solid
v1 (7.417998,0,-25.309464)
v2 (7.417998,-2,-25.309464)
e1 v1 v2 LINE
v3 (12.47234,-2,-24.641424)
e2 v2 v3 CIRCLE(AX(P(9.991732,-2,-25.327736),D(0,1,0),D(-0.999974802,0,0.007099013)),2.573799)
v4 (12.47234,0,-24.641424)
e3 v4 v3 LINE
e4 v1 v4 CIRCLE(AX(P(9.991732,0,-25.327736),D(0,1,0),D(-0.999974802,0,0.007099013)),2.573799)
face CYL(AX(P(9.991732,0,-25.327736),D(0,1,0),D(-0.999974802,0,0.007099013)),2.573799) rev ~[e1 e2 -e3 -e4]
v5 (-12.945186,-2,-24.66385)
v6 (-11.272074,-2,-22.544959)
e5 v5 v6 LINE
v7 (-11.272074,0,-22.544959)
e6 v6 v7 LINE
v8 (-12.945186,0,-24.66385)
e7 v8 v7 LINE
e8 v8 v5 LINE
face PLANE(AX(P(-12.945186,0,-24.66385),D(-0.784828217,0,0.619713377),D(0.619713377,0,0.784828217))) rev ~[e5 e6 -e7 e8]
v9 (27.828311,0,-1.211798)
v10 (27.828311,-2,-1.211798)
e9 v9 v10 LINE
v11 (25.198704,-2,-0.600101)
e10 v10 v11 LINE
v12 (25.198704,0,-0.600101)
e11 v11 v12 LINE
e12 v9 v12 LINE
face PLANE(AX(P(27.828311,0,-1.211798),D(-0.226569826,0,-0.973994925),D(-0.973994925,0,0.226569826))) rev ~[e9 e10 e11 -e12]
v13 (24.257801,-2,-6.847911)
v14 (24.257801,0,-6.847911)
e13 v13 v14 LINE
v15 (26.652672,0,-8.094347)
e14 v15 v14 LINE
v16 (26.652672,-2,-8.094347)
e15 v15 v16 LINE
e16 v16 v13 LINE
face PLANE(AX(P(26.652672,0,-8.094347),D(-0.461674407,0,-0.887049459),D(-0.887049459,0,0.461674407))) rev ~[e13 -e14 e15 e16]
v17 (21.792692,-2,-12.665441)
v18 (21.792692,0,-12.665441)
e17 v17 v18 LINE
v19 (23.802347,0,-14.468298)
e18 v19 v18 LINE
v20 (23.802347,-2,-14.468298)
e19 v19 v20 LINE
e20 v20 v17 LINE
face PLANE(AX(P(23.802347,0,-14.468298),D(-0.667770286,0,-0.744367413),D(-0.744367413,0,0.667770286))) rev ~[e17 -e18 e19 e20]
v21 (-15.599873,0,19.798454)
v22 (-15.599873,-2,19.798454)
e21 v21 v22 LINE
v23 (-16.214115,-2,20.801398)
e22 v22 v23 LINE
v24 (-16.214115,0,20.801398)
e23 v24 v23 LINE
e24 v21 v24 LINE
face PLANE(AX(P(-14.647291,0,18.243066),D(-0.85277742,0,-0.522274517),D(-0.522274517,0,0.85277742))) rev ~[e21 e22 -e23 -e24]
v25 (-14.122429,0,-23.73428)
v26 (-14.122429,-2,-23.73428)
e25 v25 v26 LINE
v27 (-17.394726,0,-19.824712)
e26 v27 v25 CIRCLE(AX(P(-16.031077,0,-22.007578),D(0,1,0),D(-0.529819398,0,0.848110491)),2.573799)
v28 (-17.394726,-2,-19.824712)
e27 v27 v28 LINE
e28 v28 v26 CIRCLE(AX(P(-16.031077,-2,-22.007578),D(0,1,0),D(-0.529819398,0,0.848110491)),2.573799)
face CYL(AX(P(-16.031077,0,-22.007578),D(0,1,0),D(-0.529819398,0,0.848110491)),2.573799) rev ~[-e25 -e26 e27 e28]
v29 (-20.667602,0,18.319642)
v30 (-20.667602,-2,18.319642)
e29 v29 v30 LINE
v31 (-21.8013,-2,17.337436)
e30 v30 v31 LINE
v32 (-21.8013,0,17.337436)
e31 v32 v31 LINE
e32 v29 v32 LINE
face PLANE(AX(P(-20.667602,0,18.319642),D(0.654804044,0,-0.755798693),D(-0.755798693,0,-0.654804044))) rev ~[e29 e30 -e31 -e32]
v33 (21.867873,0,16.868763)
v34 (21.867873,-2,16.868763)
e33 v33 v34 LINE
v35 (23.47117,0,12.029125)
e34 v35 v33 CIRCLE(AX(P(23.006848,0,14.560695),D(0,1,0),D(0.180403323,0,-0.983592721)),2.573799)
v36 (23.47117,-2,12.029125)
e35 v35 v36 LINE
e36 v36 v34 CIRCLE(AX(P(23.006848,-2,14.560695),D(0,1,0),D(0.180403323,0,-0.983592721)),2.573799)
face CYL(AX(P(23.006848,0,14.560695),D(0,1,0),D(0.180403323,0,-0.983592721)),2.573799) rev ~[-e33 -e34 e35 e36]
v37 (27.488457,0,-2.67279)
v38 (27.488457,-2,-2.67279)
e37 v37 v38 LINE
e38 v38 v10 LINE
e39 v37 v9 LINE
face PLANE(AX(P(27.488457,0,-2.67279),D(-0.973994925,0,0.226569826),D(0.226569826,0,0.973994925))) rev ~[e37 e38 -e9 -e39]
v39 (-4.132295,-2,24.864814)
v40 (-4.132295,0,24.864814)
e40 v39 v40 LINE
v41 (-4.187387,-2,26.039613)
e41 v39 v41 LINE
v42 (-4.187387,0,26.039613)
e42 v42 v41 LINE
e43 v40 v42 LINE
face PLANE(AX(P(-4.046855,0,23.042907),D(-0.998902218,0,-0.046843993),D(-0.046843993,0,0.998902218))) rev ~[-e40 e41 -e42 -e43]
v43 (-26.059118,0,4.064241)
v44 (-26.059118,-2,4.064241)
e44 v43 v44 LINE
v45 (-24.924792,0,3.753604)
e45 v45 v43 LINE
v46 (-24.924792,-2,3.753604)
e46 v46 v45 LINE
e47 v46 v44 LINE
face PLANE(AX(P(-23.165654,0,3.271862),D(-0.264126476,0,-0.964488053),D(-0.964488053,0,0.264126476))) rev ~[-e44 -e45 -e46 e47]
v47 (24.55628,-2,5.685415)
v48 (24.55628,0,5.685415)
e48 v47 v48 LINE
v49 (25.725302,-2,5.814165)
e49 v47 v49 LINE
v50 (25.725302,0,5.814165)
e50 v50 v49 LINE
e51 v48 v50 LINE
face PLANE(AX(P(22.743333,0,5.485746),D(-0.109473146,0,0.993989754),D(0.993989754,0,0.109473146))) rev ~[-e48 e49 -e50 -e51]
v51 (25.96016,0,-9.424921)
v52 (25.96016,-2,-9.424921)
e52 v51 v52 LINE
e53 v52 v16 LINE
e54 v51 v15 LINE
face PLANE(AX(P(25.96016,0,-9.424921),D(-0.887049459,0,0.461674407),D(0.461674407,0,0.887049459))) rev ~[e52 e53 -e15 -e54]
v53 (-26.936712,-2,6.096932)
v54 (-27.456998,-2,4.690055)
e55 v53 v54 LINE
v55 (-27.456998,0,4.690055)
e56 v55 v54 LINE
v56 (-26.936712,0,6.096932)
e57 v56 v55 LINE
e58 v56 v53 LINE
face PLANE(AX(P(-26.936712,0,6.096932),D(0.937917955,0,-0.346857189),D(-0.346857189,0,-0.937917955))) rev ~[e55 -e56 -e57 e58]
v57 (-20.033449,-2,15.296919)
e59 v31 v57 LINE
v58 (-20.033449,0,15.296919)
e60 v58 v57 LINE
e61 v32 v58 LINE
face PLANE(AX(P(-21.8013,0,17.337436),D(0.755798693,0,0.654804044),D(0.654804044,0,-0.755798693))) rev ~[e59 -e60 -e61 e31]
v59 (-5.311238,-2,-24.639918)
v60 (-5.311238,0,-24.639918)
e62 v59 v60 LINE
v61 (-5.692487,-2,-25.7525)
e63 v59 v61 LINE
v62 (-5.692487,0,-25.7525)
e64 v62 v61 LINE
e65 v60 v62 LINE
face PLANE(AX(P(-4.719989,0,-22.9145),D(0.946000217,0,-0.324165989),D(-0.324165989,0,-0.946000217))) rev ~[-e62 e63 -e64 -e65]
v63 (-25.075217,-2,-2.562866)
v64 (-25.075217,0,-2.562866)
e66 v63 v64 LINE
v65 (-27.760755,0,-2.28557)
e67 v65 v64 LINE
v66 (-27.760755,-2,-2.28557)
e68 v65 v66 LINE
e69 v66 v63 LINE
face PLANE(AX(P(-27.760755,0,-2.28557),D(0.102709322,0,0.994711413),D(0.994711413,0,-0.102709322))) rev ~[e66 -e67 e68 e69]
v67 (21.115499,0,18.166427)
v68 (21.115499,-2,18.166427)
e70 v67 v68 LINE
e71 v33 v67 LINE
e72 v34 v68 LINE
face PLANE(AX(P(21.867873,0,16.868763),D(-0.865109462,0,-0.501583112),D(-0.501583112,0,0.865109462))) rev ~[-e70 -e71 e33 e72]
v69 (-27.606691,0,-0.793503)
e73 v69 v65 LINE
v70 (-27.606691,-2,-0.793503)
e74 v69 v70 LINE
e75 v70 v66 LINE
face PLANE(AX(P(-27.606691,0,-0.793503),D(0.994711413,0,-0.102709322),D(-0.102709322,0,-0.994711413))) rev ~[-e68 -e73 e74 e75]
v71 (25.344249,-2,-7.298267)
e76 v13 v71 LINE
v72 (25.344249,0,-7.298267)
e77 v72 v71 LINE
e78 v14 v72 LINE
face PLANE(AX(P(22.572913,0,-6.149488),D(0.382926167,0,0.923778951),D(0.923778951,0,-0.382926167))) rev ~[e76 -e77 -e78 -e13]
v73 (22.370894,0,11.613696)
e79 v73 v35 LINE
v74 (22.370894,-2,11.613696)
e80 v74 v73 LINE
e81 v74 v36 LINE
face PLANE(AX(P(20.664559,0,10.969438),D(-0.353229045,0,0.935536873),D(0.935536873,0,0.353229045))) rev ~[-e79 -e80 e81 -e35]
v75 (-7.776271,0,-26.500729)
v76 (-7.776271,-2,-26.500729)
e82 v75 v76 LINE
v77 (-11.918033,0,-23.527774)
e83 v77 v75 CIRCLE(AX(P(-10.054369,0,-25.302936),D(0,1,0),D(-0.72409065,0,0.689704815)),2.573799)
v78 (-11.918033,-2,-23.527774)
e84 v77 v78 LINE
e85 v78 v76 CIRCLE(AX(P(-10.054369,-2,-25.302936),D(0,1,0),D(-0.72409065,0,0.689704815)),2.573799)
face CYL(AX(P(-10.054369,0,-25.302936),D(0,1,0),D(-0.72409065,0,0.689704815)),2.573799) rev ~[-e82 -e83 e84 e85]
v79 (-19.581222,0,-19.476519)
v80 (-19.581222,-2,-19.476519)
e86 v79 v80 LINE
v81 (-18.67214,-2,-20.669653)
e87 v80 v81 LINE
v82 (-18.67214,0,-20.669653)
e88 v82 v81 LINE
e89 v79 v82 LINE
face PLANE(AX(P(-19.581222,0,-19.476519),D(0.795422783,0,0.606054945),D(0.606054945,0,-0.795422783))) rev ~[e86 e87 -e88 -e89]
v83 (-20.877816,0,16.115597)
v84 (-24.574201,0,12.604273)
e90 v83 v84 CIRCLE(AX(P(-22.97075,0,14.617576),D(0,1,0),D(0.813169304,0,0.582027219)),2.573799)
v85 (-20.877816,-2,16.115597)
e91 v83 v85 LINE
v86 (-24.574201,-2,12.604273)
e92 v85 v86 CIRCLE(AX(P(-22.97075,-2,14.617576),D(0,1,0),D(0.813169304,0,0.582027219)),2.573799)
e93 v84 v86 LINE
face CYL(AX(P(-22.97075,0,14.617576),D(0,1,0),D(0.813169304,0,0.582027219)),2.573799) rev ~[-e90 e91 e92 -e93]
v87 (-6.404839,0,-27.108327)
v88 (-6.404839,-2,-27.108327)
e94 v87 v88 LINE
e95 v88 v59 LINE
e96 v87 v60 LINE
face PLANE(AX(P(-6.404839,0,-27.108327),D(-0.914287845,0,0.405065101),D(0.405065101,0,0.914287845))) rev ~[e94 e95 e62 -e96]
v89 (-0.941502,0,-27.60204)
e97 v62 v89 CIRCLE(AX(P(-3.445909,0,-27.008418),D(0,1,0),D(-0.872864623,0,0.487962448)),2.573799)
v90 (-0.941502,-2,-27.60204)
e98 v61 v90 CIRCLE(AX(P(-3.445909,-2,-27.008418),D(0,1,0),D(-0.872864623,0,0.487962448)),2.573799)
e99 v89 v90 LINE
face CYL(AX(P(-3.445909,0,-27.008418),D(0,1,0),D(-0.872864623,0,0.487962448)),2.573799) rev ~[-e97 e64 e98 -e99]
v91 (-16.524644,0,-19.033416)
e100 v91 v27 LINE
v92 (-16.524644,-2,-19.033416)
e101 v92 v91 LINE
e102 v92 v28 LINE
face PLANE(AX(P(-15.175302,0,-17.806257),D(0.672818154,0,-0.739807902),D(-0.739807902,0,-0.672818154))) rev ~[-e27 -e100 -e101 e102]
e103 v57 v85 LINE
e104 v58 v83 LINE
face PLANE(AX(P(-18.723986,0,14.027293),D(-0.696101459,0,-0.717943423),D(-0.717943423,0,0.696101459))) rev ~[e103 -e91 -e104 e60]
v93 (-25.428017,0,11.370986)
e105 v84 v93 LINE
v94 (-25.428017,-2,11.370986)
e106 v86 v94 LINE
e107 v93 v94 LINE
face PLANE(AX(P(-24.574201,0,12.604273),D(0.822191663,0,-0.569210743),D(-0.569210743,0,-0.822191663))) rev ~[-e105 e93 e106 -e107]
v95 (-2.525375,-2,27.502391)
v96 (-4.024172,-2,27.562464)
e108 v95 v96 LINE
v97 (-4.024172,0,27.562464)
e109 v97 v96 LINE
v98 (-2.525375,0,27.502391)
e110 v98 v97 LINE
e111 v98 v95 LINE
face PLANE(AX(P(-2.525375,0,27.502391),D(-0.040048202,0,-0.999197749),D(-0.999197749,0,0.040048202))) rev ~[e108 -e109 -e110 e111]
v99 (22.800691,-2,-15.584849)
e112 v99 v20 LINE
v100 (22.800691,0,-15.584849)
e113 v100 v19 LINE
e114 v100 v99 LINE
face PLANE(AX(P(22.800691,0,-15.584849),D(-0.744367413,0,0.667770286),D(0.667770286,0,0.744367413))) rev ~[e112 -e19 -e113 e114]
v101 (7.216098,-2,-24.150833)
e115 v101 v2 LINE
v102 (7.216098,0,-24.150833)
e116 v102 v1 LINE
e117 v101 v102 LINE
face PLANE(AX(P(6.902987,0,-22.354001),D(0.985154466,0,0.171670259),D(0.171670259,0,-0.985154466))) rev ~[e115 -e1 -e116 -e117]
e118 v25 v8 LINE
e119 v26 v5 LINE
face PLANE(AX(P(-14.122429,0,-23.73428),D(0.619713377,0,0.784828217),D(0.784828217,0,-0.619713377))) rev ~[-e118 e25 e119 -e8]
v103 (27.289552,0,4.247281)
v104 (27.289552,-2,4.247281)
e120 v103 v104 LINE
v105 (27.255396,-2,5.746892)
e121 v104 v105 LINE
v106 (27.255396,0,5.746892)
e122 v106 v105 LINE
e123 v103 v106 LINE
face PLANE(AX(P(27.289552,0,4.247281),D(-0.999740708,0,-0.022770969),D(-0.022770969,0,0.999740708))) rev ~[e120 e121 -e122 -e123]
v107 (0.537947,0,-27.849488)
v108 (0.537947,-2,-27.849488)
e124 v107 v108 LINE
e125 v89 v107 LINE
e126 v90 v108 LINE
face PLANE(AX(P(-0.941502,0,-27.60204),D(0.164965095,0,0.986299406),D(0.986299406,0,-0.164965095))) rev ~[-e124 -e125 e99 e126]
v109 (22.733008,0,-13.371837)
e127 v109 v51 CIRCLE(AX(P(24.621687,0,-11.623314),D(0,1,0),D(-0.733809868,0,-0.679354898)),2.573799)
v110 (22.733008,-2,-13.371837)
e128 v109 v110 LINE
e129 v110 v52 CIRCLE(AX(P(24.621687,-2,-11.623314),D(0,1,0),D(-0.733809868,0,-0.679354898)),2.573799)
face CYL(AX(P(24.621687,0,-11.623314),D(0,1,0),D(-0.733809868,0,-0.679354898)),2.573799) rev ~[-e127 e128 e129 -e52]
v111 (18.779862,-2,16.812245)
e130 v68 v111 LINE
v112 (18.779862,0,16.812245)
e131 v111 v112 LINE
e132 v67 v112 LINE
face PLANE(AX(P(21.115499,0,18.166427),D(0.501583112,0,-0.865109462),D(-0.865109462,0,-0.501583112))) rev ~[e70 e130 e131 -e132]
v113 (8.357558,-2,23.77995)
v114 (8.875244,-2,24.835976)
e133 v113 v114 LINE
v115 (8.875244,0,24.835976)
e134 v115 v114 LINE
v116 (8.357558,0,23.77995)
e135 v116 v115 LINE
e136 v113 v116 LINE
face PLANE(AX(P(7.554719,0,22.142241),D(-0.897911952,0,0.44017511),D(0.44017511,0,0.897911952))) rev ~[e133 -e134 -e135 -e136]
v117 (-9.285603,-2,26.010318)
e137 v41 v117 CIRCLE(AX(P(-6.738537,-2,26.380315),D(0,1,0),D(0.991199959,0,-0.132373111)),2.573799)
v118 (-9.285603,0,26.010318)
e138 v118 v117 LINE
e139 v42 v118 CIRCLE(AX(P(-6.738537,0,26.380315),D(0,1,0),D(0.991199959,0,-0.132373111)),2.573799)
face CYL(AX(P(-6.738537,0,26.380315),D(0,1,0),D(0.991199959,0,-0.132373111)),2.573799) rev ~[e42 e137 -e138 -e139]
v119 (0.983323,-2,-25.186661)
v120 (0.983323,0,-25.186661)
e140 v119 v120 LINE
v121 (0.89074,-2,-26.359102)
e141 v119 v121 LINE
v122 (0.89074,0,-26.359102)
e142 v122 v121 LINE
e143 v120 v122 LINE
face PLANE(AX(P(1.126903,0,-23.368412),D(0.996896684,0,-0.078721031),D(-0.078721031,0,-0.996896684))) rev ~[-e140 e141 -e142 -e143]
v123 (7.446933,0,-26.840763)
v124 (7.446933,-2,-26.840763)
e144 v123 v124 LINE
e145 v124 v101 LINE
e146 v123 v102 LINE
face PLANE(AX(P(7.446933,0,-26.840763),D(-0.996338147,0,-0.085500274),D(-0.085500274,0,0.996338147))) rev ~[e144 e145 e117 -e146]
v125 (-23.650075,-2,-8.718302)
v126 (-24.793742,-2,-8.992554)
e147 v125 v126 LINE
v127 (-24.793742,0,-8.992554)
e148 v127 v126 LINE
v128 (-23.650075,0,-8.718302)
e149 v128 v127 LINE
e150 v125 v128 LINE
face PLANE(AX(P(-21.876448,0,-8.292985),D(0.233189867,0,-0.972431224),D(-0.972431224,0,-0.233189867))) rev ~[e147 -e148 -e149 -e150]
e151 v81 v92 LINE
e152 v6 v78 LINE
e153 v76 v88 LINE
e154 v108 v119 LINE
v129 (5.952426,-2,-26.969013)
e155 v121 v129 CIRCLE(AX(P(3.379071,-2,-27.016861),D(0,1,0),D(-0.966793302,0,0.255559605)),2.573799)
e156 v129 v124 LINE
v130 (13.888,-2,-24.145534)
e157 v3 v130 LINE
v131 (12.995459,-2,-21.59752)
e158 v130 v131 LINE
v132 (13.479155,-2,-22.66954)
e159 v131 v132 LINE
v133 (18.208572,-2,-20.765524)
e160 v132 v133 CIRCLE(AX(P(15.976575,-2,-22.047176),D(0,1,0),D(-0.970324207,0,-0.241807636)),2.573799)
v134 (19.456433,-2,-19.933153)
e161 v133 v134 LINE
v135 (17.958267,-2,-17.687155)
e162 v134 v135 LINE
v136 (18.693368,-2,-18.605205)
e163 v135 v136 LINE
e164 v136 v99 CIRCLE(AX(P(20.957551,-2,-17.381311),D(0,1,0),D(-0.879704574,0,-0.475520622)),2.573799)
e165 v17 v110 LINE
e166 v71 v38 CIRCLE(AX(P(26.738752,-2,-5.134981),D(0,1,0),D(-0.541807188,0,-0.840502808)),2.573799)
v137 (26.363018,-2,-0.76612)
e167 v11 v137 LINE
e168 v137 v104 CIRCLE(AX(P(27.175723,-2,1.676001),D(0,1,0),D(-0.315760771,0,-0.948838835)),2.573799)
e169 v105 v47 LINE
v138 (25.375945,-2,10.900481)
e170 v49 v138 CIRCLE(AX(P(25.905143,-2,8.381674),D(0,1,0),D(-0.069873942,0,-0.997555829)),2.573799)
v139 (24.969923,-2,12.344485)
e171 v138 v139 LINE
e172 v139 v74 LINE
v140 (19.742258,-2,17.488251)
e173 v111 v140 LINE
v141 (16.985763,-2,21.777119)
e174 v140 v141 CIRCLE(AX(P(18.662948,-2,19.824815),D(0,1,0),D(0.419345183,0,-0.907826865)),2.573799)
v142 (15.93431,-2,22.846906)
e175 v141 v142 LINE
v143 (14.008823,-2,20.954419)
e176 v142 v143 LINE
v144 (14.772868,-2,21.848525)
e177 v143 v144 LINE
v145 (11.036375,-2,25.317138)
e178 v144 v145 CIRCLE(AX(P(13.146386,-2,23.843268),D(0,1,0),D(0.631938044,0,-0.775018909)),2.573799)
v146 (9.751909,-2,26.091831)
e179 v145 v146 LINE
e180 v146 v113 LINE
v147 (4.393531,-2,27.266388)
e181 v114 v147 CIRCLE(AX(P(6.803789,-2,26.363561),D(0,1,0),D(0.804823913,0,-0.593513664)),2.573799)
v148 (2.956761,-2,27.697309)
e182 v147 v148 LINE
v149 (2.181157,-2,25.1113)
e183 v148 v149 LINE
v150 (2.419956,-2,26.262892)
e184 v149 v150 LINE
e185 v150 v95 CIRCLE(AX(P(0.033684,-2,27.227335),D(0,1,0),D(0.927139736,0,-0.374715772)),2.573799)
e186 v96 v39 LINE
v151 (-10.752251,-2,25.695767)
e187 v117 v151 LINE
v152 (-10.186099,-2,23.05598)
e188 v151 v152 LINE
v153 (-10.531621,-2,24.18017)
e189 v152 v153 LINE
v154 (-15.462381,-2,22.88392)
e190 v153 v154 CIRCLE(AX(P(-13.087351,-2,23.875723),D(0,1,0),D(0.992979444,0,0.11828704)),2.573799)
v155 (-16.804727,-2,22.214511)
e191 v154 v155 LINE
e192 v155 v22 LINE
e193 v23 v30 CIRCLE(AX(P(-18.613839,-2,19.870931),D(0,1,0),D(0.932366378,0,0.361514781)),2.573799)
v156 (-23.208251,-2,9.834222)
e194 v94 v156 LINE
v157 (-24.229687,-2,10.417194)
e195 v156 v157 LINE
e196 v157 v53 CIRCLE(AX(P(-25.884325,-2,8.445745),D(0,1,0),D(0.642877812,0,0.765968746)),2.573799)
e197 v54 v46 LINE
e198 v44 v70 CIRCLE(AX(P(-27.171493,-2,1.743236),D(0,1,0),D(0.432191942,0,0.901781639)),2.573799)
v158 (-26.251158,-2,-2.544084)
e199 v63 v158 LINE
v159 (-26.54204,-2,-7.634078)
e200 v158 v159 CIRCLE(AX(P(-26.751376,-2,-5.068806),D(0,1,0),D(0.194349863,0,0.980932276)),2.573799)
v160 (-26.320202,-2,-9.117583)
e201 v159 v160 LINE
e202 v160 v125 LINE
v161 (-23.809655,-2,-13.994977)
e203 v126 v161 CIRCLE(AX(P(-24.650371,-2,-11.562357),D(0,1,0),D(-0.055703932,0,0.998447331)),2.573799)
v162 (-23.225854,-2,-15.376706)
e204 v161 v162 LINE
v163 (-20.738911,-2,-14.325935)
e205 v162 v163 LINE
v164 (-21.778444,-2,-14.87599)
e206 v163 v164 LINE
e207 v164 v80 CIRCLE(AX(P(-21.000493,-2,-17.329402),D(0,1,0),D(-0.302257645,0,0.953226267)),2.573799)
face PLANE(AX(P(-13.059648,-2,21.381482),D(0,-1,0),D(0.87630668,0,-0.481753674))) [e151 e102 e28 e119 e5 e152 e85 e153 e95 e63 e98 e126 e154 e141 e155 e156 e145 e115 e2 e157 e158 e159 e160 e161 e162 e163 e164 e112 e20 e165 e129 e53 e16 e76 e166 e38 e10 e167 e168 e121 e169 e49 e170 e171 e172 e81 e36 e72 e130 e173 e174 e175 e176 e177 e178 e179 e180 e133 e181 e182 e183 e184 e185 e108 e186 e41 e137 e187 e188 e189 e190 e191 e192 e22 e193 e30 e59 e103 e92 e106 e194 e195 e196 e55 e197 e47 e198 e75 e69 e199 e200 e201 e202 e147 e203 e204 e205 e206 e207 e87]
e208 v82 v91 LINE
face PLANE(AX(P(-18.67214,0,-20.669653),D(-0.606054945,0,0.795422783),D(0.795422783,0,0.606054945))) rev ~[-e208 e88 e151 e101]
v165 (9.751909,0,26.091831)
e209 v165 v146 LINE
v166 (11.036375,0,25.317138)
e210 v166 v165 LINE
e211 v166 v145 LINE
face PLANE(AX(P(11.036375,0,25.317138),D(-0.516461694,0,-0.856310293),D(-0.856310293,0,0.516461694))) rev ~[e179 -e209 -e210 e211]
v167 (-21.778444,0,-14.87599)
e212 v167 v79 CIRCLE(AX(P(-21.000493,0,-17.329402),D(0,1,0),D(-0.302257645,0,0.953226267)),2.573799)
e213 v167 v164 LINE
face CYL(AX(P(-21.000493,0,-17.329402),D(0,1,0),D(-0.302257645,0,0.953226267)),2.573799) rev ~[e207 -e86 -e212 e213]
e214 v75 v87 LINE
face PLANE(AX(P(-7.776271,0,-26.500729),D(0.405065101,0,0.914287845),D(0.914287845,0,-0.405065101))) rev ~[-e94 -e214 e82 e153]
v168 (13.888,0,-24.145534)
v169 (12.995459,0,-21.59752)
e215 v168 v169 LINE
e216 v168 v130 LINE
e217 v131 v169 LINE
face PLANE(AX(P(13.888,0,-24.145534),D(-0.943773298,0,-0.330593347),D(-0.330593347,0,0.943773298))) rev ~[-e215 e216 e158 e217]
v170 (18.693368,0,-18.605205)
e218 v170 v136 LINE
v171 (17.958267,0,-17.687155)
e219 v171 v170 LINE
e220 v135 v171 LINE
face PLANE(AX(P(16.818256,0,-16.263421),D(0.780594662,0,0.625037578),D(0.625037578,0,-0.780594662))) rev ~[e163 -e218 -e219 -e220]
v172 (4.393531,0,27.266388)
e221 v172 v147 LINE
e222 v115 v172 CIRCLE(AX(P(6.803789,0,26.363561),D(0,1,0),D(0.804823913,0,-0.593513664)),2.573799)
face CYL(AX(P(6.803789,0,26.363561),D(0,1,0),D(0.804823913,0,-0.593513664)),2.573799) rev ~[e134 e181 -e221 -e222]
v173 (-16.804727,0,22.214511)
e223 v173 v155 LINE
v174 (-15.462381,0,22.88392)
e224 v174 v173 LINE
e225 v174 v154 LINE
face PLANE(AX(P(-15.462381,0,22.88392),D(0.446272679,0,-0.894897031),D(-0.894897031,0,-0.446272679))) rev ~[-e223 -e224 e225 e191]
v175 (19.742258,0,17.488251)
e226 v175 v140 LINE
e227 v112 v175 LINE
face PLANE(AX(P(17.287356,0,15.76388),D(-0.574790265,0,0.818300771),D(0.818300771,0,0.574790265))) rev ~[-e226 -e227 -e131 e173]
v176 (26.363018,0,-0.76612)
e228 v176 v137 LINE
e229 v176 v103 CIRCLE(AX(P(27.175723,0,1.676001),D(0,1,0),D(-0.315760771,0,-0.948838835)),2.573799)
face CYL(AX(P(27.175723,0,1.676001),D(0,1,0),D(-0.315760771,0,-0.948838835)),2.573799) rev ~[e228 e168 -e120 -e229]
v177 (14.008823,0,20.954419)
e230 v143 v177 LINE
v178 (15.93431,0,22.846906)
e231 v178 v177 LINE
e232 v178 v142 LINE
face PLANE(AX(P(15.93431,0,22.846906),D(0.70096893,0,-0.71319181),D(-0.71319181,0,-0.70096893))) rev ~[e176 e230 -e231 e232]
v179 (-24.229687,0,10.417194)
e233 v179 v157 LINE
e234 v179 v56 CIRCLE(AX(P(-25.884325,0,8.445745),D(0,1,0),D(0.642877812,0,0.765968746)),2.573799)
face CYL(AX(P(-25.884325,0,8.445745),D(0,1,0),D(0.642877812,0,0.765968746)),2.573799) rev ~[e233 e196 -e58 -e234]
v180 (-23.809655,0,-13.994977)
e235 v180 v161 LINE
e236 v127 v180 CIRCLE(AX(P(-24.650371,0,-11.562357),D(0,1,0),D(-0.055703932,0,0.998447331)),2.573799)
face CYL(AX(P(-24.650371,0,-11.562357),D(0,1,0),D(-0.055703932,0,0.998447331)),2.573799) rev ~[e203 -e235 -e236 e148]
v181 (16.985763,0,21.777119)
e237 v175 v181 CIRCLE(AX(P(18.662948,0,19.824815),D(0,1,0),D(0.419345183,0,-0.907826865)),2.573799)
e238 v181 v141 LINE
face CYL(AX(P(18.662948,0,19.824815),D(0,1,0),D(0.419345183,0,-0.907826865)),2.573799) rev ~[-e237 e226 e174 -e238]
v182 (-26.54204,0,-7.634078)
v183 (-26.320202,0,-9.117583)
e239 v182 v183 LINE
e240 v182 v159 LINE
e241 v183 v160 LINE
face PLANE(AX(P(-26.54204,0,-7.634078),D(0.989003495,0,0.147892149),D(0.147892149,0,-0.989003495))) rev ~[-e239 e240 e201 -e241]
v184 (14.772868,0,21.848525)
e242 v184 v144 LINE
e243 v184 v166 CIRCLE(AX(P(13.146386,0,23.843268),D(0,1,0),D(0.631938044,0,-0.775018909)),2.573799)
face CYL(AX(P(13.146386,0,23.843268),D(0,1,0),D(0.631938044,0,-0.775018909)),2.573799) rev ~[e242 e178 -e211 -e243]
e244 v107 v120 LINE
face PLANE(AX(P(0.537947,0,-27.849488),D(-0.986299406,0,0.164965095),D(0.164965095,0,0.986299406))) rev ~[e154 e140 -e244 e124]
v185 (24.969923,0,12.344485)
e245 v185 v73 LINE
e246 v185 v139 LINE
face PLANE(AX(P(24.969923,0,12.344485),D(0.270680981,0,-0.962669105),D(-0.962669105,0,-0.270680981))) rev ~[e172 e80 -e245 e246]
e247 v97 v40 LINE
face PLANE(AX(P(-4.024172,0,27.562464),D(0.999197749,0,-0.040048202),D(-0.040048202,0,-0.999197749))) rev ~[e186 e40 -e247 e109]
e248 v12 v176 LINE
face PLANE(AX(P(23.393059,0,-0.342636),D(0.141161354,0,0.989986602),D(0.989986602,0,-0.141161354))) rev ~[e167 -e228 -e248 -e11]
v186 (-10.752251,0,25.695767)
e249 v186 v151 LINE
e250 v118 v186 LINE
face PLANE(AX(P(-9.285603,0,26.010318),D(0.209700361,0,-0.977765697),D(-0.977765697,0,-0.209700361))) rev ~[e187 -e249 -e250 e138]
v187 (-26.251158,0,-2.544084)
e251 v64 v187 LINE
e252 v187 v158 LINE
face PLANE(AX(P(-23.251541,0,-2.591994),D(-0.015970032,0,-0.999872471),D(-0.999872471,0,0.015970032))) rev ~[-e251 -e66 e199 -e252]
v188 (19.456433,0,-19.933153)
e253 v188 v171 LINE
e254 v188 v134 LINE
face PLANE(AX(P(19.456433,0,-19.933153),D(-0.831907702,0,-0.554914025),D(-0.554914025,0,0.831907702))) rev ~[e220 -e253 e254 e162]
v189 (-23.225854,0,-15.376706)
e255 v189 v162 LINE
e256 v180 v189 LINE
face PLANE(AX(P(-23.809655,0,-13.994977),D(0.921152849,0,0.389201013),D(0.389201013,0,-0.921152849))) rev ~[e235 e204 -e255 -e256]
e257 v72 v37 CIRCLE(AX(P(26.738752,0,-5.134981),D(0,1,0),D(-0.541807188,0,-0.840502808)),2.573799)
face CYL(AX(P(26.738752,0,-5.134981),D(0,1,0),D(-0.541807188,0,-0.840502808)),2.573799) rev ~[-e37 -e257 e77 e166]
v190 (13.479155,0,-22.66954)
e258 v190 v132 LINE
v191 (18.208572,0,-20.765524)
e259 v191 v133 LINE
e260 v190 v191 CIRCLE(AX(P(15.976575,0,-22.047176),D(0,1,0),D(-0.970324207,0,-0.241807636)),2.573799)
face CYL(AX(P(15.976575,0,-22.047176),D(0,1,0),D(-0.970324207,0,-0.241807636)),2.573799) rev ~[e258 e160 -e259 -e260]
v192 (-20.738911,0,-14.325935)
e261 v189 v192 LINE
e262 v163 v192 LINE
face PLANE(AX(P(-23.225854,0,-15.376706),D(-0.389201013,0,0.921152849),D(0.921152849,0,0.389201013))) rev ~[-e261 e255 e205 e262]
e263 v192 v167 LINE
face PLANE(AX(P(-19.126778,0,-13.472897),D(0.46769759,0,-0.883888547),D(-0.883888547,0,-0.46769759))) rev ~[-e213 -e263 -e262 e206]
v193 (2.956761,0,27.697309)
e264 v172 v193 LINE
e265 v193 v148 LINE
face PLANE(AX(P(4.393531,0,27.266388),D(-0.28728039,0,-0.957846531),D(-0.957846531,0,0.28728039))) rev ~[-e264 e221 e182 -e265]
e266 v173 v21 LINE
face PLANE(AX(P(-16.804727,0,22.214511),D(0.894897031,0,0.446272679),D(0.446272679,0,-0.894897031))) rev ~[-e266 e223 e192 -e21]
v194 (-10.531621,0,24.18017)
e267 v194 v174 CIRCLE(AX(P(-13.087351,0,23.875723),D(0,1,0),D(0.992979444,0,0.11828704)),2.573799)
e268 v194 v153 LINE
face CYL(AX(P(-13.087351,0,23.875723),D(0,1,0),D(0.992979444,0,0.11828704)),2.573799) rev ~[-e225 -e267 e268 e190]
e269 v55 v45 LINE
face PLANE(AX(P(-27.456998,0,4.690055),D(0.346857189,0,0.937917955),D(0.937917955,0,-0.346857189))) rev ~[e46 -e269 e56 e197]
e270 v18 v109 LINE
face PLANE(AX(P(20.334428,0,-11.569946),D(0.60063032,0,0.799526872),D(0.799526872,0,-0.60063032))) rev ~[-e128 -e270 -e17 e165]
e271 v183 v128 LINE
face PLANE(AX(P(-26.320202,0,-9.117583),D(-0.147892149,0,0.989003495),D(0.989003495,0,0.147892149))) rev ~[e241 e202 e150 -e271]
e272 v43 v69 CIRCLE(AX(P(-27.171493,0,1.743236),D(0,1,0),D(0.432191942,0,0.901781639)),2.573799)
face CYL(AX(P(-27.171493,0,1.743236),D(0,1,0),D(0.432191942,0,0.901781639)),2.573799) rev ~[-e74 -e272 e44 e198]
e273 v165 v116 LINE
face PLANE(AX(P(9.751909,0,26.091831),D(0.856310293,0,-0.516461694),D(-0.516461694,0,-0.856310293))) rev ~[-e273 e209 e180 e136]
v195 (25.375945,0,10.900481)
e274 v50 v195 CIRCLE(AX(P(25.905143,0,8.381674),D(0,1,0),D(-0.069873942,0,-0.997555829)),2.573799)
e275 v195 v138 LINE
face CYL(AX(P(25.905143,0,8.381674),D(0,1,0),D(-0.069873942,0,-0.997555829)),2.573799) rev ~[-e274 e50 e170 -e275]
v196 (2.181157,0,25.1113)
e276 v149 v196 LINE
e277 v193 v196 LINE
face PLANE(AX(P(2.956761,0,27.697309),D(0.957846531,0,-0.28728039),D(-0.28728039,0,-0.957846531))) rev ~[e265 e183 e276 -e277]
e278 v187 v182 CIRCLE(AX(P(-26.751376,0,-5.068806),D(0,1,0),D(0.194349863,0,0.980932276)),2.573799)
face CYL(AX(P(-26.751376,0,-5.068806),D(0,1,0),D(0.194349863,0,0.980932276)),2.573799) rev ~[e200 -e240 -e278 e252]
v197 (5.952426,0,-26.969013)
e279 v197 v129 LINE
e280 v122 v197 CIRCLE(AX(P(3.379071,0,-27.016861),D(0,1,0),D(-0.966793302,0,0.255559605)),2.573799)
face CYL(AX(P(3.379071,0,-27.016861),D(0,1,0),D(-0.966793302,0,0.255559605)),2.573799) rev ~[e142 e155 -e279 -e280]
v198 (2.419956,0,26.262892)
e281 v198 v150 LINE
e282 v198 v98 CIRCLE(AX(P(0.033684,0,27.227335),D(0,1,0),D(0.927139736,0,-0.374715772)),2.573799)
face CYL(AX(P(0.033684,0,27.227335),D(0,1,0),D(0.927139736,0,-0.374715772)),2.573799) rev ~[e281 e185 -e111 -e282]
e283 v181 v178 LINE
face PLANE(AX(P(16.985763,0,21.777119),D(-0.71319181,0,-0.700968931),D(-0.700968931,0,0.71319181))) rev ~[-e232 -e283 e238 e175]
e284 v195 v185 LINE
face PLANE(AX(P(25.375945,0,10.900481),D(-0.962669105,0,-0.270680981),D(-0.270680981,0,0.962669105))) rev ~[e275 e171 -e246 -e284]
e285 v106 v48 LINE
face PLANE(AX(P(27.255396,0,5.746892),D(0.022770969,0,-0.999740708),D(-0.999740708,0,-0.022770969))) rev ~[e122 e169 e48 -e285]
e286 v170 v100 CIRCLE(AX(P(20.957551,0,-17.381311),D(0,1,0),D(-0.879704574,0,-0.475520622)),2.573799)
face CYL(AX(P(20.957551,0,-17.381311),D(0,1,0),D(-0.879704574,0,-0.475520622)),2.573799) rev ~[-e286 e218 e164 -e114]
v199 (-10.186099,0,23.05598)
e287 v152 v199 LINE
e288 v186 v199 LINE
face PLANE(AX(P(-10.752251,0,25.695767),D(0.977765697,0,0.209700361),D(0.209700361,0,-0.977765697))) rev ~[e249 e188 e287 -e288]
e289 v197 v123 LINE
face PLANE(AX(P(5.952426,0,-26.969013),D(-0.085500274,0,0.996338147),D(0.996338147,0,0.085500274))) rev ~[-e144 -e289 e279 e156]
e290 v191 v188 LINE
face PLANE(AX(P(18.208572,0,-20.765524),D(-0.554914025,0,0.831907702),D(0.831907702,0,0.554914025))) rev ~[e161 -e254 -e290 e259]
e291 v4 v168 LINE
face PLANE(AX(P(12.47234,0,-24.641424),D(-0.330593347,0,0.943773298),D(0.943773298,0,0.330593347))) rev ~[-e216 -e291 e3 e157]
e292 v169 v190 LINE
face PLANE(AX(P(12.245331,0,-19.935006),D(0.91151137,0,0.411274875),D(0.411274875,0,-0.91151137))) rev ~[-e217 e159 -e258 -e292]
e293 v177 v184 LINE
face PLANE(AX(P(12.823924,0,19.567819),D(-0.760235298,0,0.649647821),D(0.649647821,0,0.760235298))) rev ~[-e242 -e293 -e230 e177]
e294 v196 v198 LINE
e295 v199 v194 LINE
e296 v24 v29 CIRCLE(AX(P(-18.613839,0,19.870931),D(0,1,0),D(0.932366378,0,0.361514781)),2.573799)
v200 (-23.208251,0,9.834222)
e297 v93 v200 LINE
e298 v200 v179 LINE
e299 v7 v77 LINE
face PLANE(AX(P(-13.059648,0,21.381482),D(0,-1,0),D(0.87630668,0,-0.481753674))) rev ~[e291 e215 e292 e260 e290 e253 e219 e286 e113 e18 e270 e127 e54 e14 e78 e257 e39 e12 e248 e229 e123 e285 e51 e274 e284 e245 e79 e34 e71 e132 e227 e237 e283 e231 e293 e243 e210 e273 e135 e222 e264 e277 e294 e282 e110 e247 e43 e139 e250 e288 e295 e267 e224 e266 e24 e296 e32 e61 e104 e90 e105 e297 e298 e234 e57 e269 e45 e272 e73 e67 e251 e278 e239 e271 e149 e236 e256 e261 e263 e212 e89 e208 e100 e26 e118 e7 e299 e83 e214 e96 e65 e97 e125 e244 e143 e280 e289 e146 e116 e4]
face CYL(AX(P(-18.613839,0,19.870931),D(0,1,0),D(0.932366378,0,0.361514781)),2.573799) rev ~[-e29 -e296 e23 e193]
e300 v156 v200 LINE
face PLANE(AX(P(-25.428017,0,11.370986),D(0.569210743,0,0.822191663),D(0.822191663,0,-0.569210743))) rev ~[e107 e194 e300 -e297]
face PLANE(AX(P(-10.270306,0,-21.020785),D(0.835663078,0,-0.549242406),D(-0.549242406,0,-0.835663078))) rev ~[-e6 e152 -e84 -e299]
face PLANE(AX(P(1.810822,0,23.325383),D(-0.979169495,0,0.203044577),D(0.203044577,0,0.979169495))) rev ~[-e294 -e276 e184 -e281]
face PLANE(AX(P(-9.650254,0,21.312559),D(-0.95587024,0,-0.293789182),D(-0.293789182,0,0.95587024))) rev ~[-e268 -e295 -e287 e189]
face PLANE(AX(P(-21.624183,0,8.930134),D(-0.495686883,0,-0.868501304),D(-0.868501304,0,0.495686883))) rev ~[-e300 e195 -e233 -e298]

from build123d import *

# Parameters (mm, degrees)
F1_DEPTH = 2
F2_COUNT = 25
F3_DEPTH = 2
F0_R     = 1.3791907975
F4_R     = 24.1789897238
F5_DEPTH = 2


with BuildPart() as f1:
    # F0 (on Front) → F1 (new body)
    with BuildSketch(Plane.XZ):
        with BuildLine():
            ThreePointArc((-20.8778160203, 16.1155972919), (-21.1981117968, 12.751512491), (-24.5742007448, 12.6042734059))
            Line((-24.5742007448, 12.6042734059), (-25.4280168593, 11.3709859121))
            Line((-25.4280168593, 11.3709859121), (-22.1392502091, 9.0941429398))
            Line((-22.1392502091, 9.0941429398), (-18.7239857507, 14.0272929152))
            Line((-18.7239857507, 14.0272929152), (-20.8778160203, 16.1155972919))
        make_face()
    extrude(amount=F1_DEPTH)


with BuildPart() as f2_1:
    # F2: instance of F1
    add(f1.part.rotate(Axis((0, 0, 0), (0, -1, 0)), 1 * 360 / F2_COUNT))


with BuildPart() as f2_2:
    # F2: instance of F1
    add(f1.part.rotate(Axis((0, 0, 0), (0, -1, 0)), 2 * 360 / F2_COUNT))


with BuildPart() as f2_3:
    # F2: instance of F1
    add(f1.part.rotate(Axis((0, 0, 0), (0, -1, 0)), 3 * 360 / F2_COUNT))


with BuildPart() as f2_4:
    # F2: instance of F1
    add(f1.part.rotate(Axis((0, 0, 0), (0, -1, 0)), 4 * 360 / F2_COUNT))


with BuildPart() as f2_5:
    # F2: instance of F1
    add(f1.part.rotate(Axis((0, 0, 0), (0, -1, 0)), 5 * 360 / F2_COUNT))


with BuildPart() as f2_6:
    # F2: instance of F1
    add(f1.part.rotate(Axis((0, 0, 0), (0, -1, 0)), 6 * 360 / F2_COUNT))


with BuildPart() as f2_7:
    # F2: instance of F1
    add(f1.part.rotate(Axis((0, 0, 0), (0, -1, 0)), 7 * 360 / F2_COUNT))


with BuildPart() as f2_8:
    # F2: instance of F1
    add(f1.part.rotate(Axis((0, 0, 0), (0, -1, 0)), 8 * 360 / F2_COUNT))


with BuildPart() as f2_9:
    # F2: instance of F1
    add(f1.part.rotate(Axis((0, 0, 0), (0, -1, 0)), 9 * 360 / F2_COUNT))


with BuildPart() as f2_10:
    # F2: instance of F1
    add(f1.part.rotate(Axis((0, 0, 0), (0, -1, 0)), 10 * 360 / F2_COUNT))


with BuildPart() as f2_11:
    # F2: instance of F1
    add(f1.part.rotate(Axis((0, 0, 0), (0, -1, 0)), 11 * 360 / F2_COUNT))


with BuildPart() as f2_12:
    # F2: instance of F1
    add(f1.part.rotate(Axis((0, 0, 0), (0, -1, 0)), 12 * 360 / F2_COUNT))


with BuildPart() as f2_13:
    # F2: instance of F1
    add(f1.part.rotate(Axis((0, 0, 0), (0, -1, 0)), 13 * 360 / F2_COUNT))


with BuildPart() as f2_14:
    # F2: instance of F1
    add(f1.part.rotate(Axis((0, 0, 0), (0, -1, 0)), 14 * 360 / F2_COUNT))


with BuildPart() as f2_15:
    # F2: instance of F1
    add(f1.part.rotate(Axis((0, 0, 0), (0, -1, 0)), 15 * 360 / F2_COUNT))


with BuildPart() as f2_16:
    # F2: instance of F1
    add(f1.part.rotate(Axis((0, 0, 0), (0, -1, 0)), 16 * 360 / F2_COUNT))


with BuildPart() as f2_17:
    # F2: instance of F1
    add(f1.part.rotate(Axis((0, 0, 0), (0, -1, 0)), 17 * 360 / F2_COUNT))


with BuildPart() as f2_18:
    # F2: instance of F1
    add(f1.part.rotate(Axis((0, 0, 0), (0, -1, 0)), 18 * 360 / F2_COUNT))


with BuildPart() as f2_19:
    # F2: instance of F1
    add(f1.part.rotate(Axis((0, 0, 0), (0, -1, 0)), 19 * 360 / F2_COUNT))


with BuildPart() as f2_20:
    # F2: instance of F1
    add(f1.part.rotate(Axis((0, 0, 0), (0, -1, 0)), 20 * 360 / F2_COUNT))


with BuildPart() as f2_21:
    # F2: instance of F1
    add(f1.part.rotate(Axis((0, 0, 0), (0, -1, 0)), 21 * 360 / F2_COUNT))


with BuildPart() as f2_22:
    # F2: instance of F1
    add(f1.part.rotate(Axis((0, 0, 0), (0, -1, 0)), 22 * 360 / F2_COUNT))


with BuildPart() as f2_23:
    # F2: instance of F1
    add(f1.part.rotate(Axis((0, 0, 0), (0, -1, 0)), 23 * 360 / F2_COUNT))


with BuildPart() as f2_24:
    # F2: instance of F1
    add(f1.part.rotate(Axis((0, 0, 0), (0, -1, 0)), 24 * 360 / F2_COUNT))


with BuildPart() as f1_1:
    add(f1.part)

    add(f2_1.part)  # F3 merges F2_1

    add(f2_24.part)  # F3 merges F2_24
    # F0 (on Front) → F3 (join)
    with BuildSketch(Plane.XZ):
        with BuildLine():
            ThreePointArc((-20.8778160203, 16.1155972919), (-21.1981117968, 12.751512491), (-24.5742007448, 12.6042734059))
            Line((-24.5742007448, 12.6042734059), (-25.4280168593, 11.3709859121))
            Line((-25.4280168593, 11.3709859121), (-22.1392502091, 9.0941429398))
            Line((-22.1392502091, 9.0941429398), (-18.7239857507, 14.0272929152))
            Line((-18.7239857507, 14.0272929152), (-20.8778160203, 16.1155972919))
        make_face()
    extrude(amount=F3_DEPTH)

    add(f2_2.part)  # F5 merges F2_2

    add(f2_3.part)  # F5 merges F2_3

    add(f2_4.part)  # F5 merges F2_4

    add(f2_5.part)  # F5 merges F2_5

    add(f2_6.part)  # F5 merges F2_6

    add(f2_7.part)  # F5 merges F2_7

    add(f2_8.part)  # F5 merges F2_8

    add(f2_9.part)  # F5 merges F2_9

    add(f2_10.part)  # F5 merges F2_10

    add(f2_11.part)  # F5 merges F2_11

    add(f2_12.part)  # F5 merges F2_12

    add(f2_13.part)  # F5 merges F2_13

    add(f2_14.part)  # F5 merges F2_14

    add(f2_15.part)  # F5 merges F2_15

    add(f2_16.part)  # F5 merges F2_16

    add(f2_17.part)  # F5 merges F2_17

    add(f2_18.part)  # F5 merges F2_18

    add(f2_19.part)  # F5 merges F2_19

    add(f2_20.part)  # F5 merges F2_20

    add(f2_21.part)  # F5 merges F2_21

    add(f2_22.part)  # F5 merges F2_22

    add(f2_23.part)  # F5 merges F2_23


with BuildPart() as f3:
    # F0 (on Front) → F3, piece 2 (new body)
    with BuildSketch(Plane.XZ):
        Circle(F0_R)
    extrude(amount=F3_DEPTH)


with BuildPart() as f1_2:
    add(f1_1.part)

    add(f3.part)  # F5 merges F3
    # F4 (on Front) → F5 (join)
    with BuildSketch(Plane.XZ):
        Circle(F4_R)
    extrude(amount=F5_DEPTH)


solid = f1_2.part
